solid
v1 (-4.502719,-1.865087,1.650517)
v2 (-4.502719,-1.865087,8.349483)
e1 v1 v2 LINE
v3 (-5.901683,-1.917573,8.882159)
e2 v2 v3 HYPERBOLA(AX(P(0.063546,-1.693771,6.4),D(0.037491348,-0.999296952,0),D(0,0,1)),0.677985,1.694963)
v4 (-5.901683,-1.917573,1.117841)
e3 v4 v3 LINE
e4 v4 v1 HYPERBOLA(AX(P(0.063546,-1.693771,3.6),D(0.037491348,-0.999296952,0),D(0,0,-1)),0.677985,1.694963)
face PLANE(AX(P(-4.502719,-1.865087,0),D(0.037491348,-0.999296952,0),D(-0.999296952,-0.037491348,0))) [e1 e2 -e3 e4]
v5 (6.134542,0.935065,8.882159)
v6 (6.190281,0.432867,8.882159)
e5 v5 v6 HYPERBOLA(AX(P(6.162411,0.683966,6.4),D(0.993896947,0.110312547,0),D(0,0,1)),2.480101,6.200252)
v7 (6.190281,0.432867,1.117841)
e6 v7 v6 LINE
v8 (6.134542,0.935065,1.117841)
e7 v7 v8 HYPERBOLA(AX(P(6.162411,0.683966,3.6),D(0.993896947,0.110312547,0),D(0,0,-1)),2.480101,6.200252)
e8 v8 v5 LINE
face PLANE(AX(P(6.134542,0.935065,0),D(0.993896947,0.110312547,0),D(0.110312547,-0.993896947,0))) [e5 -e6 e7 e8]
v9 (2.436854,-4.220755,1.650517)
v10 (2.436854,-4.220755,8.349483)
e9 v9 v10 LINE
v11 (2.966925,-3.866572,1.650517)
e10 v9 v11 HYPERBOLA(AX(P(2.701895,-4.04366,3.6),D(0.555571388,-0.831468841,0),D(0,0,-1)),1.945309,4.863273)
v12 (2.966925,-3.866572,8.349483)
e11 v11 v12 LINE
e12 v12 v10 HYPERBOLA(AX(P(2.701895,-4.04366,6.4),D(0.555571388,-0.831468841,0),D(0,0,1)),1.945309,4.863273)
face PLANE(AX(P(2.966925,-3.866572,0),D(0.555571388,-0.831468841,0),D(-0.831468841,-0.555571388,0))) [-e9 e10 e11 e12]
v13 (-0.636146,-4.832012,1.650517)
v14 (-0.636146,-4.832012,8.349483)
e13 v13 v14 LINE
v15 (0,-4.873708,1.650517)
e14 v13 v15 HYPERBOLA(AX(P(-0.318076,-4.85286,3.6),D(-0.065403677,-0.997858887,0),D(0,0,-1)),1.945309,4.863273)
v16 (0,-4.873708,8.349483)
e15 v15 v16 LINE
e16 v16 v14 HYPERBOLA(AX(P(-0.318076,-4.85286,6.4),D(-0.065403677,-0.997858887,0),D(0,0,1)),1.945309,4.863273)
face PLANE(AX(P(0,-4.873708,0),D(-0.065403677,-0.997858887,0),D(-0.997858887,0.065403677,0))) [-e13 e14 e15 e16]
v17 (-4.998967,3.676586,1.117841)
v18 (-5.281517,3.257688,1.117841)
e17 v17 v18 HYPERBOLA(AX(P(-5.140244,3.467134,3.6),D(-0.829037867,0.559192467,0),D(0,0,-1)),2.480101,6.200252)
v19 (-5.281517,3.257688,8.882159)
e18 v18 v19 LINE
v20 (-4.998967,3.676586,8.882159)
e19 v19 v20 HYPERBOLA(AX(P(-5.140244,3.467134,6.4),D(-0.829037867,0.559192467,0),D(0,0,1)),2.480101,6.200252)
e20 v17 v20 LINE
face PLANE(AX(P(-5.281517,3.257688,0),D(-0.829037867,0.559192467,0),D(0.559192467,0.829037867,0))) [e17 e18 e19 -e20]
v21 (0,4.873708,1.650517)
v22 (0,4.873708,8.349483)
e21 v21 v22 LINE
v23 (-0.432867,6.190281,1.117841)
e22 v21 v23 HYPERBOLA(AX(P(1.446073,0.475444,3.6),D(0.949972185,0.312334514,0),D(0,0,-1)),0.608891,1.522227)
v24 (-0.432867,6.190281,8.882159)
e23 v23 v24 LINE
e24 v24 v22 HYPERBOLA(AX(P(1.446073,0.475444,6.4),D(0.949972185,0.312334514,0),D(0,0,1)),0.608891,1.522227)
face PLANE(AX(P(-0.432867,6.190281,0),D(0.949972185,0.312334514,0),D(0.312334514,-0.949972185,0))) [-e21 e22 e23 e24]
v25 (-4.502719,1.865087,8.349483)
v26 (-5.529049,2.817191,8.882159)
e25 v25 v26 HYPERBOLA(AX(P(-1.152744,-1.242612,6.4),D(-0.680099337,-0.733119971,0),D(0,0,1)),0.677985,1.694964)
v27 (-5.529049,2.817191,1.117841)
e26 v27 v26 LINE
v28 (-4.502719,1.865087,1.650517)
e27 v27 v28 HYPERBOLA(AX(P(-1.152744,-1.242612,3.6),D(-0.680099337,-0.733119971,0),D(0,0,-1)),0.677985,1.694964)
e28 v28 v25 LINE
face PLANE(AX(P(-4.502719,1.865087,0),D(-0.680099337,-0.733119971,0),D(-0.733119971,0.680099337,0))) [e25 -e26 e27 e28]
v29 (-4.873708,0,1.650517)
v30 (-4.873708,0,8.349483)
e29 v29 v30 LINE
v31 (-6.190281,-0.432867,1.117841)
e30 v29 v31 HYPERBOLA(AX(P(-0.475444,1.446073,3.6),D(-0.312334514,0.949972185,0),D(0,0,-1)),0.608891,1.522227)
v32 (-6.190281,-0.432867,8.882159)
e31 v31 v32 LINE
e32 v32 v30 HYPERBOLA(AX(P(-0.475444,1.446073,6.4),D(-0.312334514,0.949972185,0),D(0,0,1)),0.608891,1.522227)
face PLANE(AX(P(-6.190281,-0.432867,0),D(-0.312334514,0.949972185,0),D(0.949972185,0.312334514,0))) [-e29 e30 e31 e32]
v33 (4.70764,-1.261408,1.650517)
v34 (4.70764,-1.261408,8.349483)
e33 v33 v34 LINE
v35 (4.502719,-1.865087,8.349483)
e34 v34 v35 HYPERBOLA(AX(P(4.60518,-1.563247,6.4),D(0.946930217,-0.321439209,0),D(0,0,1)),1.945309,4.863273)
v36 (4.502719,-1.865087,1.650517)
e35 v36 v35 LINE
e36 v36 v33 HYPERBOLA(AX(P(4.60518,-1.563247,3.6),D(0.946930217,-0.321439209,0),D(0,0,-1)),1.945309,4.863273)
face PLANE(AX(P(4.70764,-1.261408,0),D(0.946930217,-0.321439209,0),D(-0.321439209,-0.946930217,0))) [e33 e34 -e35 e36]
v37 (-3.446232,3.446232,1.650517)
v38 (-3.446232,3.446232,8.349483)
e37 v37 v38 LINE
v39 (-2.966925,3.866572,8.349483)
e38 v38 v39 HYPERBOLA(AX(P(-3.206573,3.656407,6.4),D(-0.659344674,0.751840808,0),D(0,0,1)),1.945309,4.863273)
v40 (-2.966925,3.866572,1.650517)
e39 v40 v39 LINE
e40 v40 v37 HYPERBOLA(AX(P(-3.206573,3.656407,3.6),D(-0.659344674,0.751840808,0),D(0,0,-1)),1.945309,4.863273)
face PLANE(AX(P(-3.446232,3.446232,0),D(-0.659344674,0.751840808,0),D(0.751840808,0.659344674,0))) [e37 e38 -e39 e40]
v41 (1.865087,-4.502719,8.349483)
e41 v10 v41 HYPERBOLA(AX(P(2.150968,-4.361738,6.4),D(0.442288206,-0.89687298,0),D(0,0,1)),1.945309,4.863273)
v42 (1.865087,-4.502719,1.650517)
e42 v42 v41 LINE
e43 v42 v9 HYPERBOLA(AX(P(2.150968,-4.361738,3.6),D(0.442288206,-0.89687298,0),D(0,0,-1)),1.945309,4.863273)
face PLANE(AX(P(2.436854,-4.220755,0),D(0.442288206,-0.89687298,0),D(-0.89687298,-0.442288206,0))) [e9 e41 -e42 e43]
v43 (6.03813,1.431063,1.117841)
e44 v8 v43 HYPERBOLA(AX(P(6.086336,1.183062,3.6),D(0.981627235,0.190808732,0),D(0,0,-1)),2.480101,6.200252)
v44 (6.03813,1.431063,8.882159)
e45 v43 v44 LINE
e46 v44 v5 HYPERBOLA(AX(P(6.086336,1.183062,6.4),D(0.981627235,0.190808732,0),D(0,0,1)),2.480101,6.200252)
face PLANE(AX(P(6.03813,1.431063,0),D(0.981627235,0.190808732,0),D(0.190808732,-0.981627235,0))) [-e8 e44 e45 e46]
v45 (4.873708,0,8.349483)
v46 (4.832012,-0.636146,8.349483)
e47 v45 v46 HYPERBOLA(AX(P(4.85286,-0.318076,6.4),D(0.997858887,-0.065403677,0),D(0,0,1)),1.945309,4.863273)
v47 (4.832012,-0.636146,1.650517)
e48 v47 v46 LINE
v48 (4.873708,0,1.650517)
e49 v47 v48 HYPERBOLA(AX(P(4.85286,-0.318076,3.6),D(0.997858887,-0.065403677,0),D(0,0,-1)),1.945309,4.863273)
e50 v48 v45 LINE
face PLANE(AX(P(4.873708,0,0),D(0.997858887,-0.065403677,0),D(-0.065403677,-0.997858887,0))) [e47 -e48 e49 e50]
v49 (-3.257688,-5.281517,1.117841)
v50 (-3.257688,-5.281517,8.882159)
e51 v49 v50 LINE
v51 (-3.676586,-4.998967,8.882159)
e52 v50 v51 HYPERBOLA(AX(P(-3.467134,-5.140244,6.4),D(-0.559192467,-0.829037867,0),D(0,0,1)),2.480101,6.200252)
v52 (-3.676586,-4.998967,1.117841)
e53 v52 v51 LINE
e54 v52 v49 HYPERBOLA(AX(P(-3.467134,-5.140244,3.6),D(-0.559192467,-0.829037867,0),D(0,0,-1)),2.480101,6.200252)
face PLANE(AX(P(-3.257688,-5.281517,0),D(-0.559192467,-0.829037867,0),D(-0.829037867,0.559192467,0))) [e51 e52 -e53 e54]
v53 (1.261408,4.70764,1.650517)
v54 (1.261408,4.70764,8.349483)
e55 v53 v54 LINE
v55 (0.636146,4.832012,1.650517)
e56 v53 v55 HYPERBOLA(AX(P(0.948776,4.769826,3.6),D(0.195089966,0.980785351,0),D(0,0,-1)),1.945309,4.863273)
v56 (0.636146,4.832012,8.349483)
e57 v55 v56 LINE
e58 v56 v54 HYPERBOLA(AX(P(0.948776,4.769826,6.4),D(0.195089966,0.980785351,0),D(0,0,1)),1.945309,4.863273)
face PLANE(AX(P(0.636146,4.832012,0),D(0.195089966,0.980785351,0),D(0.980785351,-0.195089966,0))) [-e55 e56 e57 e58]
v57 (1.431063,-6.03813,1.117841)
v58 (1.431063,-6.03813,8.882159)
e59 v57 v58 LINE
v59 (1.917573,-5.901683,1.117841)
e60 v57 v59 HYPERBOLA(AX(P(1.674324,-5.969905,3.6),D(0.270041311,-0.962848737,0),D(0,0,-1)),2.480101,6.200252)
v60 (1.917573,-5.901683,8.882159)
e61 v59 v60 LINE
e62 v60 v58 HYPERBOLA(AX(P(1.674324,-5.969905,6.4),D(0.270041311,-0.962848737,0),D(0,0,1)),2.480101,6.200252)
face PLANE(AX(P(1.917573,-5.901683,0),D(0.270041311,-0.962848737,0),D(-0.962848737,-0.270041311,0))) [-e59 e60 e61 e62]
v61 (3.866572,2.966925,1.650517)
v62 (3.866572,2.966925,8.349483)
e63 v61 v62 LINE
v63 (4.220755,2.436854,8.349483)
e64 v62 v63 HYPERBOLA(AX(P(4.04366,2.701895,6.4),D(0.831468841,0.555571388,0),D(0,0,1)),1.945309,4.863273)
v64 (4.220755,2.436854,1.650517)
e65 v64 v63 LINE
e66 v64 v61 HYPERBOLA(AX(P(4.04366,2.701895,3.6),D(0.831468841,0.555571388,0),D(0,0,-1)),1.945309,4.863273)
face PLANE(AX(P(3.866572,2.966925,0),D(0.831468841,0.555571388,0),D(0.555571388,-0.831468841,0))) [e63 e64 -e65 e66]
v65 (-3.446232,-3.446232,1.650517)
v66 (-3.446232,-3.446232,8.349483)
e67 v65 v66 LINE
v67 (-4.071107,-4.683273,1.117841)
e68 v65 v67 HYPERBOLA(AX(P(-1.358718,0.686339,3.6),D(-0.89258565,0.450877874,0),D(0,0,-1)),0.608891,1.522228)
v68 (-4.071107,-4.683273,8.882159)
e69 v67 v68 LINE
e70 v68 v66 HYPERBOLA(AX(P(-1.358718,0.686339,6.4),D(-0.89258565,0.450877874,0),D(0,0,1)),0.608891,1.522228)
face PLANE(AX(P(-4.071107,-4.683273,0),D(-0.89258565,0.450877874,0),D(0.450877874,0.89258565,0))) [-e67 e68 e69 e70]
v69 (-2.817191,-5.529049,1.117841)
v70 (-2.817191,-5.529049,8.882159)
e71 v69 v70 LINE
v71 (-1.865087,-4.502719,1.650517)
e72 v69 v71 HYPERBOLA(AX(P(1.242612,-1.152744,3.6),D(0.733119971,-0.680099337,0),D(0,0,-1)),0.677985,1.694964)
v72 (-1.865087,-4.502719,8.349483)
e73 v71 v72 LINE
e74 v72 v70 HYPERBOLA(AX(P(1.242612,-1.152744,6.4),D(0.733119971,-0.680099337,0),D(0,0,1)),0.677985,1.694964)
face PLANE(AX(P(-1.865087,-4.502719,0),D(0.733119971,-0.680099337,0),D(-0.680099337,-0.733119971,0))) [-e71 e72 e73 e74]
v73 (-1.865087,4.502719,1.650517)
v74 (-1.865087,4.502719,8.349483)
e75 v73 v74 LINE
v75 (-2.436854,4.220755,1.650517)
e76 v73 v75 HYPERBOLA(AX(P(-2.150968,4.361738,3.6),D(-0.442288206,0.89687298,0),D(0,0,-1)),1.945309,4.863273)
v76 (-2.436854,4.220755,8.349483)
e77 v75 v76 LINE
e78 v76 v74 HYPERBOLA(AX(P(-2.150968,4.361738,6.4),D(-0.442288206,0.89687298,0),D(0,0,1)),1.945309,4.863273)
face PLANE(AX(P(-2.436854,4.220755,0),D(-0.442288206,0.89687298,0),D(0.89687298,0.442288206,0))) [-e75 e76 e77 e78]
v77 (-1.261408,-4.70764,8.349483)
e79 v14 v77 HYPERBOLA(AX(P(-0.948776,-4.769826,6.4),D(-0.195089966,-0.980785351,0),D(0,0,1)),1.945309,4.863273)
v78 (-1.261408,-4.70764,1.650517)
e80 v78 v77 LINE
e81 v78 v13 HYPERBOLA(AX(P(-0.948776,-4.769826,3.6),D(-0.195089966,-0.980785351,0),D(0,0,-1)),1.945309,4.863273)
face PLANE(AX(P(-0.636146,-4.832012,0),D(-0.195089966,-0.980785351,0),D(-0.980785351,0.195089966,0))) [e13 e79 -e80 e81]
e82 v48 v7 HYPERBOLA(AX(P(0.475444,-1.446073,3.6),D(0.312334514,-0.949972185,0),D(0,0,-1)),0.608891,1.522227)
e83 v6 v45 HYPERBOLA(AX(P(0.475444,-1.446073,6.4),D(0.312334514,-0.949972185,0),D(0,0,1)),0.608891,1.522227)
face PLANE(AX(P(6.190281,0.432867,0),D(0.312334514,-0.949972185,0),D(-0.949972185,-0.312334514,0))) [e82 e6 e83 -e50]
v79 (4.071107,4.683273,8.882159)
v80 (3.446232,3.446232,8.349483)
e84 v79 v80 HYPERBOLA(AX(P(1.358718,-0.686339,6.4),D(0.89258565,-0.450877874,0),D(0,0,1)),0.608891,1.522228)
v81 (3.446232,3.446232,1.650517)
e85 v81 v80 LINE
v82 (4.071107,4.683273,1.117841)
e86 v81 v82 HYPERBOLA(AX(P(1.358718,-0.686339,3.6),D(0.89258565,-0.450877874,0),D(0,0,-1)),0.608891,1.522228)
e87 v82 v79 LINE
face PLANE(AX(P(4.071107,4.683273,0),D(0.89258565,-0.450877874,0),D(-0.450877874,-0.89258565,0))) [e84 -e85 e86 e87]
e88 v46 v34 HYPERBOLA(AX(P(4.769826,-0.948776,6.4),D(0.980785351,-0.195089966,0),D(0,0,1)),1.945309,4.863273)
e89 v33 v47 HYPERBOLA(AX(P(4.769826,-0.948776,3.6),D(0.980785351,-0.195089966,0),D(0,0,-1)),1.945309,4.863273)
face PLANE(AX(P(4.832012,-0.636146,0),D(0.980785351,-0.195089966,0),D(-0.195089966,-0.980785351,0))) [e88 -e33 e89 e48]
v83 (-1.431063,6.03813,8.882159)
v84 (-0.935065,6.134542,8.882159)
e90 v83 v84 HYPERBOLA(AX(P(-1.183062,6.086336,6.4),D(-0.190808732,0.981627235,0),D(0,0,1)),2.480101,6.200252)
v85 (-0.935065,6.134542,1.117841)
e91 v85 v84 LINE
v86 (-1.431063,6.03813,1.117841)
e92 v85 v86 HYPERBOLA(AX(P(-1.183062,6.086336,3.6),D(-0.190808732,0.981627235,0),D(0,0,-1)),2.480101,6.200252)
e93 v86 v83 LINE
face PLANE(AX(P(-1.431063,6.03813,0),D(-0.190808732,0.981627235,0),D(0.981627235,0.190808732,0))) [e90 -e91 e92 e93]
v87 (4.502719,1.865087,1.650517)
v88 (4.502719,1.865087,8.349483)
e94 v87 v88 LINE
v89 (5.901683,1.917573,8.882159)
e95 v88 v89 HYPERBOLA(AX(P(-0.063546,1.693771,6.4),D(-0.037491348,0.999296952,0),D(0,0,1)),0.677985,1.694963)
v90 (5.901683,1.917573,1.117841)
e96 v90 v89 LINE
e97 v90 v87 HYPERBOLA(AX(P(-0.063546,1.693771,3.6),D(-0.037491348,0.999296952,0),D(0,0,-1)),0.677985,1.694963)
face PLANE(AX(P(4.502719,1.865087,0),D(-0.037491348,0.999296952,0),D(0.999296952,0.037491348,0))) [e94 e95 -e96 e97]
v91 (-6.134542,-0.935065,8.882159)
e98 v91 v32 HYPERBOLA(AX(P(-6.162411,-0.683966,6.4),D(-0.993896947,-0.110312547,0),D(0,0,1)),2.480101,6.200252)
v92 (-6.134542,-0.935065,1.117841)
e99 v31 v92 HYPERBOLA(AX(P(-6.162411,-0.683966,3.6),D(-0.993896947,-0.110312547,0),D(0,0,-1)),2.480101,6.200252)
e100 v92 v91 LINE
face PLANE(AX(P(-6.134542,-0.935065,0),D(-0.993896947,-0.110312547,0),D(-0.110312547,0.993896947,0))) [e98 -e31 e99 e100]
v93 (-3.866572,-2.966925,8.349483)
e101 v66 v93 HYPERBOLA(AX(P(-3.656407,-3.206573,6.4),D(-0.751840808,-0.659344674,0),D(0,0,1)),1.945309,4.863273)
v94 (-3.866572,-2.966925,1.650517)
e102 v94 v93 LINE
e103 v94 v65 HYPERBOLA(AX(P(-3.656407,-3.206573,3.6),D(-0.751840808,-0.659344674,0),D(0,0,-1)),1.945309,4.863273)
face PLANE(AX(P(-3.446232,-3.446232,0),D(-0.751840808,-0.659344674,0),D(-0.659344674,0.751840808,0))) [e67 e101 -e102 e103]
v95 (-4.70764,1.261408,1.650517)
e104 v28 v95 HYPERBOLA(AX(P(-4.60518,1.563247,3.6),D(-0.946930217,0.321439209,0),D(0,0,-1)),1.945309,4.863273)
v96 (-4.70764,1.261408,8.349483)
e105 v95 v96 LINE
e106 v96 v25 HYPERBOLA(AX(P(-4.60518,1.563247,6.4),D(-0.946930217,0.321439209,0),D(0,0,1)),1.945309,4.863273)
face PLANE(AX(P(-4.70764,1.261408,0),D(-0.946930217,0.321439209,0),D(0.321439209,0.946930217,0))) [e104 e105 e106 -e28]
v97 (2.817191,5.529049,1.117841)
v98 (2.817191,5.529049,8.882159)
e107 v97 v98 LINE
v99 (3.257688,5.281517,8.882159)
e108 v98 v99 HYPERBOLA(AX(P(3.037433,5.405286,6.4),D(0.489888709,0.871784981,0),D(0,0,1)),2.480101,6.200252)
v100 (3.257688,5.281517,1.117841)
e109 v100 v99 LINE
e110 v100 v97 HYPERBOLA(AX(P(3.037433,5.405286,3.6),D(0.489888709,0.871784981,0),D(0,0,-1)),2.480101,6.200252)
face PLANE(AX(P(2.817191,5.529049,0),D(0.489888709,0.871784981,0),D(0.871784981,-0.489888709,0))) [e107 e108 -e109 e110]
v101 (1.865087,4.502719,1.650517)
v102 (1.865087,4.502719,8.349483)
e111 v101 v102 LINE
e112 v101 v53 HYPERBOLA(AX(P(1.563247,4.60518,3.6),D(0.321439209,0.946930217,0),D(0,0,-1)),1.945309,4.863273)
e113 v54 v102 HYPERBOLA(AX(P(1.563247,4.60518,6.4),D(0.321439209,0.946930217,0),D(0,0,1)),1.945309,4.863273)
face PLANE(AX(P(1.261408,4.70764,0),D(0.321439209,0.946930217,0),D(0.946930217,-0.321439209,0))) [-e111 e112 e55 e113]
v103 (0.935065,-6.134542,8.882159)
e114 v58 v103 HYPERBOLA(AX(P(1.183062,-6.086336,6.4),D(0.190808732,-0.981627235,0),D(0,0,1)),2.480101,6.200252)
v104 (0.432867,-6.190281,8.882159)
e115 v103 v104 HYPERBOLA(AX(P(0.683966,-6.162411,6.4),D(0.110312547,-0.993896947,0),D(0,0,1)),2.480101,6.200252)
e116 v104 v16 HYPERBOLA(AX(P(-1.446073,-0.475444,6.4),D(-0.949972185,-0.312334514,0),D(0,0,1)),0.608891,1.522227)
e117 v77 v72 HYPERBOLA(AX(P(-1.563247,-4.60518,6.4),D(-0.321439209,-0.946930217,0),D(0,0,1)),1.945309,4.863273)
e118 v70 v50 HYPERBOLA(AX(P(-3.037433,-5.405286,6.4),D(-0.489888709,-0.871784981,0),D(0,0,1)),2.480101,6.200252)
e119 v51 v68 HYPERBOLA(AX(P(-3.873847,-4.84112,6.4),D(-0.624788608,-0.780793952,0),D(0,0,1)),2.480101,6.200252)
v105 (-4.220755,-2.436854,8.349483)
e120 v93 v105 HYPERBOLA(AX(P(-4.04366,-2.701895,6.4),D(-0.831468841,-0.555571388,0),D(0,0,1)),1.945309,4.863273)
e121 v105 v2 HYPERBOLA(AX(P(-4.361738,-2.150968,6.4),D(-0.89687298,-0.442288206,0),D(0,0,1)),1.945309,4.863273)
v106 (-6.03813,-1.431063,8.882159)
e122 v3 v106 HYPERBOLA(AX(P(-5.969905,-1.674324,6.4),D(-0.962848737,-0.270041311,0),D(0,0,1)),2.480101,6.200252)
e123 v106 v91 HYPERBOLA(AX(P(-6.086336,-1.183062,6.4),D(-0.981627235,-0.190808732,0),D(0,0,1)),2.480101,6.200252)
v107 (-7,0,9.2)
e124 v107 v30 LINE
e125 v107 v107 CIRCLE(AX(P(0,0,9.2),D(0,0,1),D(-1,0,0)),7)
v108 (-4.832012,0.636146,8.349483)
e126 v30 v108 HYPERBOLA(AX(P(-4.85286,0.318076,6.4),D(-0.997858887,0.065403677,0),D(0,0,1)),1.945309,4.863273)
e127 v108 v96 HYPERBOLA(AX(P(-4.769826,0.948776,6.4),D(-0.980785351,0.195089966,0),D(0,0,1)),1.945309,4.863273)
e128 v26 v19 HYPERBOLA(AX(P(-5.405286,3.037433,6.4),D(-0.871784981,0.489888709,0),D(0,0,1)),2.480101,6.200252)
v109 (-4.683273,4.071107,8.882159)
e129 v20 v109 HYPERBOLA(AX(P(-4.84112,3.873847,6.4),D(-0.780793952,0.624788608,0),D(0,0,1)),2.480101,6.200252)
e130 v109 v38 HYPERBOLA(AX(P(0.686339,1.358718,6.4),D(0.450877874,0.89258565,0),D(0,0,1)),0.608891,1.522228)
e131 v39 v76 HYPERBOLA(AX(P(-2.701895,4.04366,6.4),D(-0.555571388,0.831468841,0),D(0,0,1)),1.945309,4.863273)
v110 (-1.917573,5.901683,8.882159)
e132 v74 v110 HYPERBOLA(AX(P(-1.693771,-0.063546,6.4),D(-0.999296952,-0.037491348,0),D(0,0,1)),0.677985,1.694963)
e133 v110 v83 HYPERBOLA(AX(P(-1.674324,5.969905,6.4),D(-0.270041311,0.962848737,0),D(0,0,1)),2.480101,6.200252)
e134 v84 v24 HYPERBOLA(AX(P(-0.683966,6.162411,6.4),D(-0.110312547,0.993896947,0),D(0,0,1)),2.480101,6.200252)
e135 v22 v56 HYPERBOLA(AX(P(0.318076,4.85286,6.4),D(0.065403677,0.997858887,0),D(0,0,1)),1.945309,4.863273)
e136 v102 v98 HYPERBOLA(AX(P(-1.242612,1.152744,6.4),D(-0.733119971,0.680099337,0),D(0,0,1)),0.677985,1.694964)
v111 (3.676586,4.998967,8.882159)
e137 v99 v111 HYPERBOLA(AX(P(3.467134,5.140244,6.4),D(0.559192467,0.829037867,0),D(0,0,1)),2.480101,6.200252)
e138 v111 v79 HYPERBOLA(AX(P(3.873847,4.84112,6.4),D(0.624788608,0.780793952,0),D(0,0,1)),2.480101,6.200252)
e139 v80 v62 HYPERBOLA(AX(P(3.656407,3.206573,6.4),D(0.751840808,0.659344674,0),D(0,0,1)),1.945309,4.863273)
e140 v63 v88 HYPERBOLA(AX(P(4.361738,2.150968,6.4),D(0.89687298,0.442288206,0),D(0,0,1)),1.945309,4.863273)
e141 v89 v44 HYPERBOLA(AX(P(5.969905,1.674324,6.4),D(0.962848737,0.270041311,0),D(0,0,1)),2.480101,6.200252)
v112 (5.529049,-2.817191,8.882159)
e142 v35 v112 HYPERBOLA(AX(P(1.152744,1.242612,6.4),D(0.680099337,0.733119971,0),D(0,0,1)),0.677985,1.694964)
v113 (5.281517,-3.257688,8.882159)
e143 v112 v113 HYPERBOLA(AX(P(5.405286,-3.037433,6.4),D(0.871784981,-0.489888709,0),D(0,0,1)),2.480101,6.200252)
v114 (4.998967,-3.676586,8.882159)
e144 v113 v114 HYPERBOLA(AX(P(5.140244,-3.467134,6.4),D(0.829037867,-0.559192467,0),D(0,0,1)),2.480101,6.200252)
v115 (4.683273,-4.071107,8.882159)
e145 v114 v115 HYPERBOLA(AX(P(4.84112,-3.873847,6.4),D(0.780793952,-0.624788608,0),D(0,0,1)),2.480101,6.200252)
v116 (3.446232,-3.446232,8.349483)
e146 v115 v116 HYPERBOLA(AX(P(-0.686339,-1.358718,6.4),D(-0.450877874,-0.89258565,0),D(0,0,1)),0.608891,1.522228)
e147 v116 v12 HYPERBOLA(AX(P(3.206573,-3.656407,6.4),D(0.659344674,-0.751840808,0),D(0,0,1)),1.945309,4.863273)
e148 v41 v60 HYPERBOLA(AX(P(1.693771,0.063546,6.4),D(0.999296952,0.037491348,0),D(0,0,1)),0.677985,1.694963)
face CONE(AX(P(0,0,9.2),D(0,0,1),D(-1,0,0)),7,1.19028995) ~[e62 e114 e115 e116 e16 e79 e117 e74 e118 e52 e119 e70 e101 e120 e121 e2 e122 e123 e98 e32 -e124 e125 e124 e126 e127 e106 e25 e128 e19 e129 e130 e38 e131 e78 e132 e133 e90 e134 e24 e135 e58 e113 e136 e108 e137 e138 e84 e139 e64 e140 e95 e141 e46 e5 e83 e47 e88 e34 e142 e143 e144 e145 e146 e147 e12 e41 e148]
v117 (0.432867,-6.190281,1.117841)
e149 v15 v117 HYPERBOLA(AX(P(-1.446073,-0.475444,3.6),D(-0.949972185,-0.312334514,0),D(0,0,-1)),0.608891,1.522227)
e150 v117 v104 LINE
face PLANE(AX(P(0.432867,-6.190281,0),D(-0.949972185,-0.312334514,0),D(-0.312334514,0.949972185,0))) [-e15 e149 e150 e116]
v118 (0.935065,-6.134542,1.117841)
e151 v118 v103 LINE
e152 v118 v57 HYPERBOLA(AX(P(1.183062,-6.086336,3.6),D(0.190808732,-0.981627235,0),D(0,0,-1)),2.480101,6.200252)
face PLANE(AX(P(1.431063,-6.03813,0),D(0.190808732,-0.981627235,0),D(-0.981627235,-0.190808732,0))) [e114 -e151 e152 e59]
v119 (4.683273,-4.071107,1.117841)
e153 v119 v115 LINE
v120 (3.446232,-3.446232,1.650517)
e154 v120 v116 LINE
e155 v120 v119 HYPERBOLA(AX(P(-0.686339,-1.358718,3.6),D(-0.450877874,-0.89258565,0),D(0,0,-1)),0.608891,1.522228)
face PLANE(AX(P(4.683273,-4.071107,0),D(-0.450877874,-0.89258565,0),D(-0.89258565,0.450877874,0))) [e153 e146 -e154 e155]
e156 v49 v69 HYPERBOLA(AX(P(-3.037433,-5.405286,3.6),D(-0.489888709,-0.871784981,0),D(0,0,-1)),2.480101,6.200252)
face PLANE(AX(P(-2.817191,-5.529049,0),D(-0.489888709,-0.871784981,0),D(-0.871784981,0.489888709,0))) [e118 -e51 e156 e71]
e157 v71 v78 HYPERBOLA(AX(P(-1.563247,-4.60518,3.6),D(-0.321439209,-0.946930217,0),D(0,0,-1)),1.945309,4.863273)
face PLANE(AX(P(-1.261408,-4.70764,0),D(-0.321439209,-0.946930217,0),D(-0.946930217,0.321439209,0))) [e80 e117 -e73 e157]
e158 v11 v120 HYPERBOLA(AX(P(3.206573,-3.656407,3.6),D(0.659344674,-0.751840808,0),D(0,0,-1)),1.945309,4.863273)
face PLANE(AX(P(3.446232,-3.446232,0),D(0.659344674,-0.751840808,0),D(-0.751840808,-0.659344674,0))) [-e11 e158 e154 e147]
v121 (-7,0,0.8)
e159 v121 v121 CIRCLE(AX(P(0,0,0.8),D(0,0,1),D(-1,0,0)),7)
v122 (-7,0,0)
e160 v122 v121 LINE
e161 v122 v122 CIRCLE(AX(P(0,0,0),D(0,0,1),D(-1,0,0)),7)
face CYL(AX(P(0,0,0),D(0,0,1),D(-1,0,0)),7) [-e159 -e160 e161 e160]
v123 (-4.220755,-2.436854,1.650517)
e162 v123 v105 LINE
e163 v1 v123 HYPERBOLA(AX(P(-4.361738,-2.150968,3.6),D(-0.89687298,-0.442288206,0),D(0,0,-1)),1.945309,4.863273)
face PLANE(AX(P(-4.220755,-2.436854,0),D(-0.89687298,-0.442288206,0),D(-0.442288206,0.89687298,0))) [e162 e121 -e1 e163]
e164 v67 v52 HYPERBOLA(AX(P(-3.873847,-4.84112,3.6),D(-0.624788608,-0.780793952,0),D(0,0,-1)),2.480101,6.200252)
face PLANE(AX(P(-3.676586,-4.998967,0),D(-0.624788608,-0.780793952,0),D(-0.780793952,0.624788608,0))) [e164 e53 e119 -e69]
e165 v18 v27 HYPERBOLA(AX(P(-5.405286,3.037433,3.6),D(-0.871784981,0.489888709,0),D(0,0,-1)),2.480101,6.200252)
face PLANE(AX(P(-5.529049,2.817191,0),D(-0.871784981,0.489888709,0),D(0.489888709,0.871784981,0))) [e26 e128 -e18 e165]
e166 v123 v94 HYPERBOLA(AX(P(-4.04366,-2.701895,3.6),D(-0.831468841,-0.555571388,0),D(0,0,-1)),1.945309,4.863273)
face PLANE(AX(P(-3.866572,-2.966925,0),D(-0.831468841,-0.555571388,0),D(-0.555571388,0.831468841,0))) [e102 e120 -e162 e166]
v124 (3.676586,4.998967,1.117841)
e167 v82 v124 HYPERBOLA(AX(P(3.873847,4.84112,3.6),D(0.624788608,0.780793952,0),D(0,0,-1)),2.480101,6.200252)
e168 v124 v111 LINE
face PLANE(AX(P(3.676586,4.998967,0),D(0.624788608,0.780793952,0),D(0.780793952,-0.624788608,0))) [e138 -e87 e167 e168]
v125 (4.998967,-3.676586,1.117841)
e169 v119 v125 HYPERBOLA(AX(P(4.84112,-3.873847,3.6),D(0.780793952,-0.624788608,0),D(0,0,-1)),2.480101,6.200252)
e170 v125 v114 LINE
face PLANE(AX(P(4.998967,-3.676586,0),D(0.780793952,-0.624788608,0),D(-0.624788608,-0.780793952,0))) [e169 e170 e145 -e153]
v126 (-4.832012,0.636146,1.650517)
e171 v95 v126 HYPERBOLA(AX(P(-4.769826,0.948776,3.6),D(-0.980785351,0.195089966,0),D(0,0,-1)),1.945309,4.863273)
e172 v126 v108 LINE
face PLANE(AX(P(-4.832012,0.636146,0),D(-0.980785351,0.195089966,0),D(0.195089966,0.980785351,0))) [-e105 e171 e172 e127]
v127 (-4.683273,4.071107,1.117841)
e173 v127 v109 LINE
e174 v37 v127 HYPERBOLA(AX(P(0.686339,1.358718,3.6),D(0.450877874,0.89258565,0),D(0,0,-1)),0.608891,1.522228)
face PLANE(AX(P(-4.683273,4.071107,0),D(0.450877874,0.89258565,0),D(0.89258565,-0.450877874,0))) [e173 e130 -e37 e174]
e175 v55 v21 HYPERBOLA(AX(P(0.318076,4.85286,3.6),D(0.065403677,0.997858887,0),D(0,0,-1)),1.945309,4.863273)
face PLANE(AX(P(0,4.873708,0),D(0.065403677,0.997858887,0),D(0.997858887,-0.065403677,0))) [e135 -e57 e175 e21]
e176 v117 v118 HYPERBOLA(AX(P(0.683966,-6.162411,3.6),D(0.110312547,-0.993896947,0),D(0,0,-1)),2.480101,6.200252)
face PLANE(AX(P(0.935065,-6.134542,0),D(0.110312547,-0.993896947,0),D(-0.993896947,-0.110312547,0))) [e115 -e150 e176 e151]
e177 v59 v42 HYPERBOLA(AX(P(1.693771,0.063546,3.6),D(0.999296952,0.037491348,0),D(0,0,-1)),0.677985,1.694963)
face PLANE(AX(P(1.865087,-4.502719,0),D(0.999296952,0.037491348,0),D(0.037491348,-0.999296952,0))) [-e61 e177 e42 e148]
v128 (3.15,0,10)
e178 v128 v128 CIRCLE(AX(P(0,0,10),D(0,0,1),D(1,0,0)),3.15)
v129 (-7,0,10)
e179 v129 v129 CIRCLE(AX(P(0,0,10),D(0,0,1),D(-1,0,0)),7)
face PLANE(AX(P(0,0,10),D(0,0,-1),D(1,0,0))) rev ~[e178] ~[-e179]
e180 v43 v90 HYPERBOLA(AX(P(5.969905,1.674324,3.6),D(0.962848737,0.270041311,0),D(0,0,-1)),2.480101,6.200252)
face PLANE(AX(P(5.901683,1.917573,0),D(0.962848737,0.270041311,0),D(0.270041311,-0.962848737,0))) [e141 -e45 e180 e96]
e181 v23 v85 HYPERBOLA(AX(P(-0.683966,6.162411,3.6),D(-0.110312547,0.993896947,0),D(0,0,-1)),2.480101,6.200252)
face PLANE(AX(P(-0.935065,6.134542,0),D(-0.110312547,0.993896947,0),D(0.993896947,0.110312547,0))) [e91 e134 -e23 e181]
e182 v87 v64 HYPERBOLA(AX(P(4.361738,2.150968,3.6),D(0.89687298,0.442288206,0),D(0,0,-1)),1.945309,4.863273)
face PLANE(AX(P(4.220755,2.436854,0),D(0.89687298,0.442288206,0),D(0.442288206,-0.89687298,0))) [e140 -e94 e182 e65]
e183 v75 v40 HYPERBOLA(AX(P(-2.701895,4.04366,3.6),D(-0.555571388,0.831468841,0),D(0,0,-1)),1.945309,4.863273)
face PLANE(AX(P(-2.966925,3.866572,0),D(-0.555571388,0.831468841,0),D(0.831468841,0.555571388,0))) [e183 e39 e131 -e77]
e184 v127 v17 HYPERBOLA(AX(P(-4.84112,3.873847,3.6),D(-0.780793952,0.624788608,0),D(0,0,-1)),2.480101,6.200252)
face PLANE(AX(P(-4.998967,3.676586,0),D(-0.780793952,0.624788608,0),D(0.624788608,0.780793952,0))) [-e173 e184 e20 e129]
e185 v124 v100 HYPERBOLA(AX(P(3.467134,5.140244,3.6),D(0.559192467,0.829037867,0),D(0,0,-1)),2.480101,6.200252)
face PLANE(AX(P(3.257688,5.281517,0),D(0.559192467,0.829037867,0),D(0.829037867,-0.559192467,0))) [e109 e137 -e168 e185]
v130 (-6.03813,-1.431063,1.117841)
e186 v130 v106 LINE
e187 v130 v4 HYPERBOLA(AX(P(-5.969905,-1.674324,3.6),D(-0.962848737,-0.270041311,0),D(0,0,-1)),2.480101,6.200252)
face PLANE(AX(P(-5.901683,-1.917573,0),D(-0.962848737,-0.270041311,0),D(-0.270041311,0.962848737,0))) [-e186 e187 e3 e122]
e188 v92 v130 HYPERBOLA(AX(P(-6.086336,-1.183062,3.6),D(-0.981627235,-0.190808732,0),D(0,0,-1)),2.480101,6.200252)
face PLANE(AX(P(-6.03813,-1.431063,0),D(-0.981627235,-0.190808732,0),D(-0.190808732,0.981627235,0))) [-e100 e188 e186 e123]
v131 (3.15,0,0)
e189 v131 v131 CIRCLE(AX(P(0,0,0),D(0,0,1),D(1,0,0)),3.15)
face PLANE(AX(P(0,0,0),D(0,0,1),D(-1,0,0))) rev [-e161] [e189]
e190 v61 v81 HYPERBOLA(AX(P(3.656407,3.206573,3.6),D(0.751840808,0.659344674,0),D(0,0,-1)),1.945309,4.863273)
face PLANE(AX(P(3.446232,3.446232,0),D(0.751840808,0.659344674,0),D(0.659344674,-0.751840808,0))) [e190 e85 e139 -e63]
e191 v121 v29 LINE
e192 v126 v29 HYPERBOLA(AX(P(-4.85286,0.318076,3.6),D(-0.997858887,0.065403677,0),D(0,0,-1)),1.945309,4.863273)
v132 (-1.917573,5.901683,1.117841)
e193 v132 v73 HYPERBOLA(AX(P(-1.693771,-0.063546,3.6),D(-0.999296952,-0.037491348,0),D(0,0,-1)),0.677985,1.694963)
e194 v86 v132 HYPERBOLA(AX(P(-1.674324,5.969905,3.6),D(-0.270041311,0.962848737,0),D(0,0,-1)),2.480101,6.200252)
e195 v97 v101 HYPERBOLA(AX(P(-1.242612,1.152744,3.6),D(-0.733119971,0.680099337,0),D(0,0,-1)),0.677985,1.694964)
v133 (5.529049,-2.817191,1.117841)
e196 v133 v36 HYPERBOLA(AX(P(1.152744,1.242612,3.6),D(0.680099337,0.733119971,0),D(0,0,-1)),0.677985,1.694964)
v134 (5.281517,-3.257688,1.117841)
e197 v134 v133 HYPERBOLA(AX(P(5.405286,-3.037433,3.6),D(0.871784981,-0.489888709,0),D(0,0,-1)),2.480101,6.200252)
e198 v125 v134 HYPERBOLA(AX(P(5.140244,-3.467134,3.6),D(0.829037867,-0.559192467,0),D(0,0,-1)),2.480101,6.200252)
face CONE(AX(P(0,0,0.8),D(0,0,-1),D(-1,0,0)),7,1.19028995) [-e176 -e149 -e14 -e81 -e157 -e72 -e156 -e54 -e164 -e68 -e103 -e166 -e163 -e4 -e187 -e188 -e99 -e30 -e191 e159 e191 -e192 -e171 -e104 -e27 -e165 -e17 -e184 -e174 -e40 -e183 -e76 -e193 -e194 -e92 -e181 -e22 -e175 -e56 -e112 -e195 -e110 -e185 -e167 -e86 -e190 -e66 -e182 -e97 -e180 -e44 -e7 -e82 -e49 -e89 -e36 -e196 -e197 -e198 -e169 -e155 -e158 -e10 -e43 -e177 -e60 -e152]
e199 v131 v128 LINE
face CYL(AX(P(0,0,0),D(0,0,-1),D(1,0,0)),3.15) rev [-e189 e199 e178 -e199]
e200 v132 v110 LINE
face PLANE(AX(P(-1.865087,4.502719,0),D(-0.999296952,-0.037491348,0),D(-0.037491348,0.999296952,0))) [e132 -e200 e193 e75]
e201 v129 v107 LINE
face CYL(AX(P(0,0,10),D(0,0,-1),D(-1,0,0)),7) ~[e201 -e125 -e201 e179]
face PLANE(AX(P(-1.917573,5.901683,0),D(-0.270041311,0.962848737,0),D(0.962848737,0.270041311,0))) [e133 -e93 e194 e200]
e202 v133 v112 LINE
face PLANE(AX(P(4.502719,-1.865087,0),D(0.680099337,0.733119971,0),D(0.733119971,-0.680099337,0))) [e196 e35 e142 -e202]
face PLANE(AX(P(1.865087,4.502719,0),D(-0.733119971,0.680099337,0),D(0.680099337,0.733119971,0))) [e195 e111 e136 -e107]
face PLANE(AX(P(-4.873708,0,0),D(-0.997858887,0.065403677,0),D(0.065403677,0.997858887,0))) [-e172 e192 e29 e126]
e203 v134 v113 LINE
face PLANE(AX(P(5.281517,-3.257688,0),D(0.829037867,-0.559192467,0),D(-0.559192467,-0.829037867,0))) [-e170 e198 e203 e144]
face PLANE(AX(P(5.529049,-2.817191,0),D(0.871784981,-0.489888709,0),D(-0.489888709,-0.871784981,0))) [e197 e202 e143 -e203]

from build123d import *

# Parameters (mm, degrees)
SKETCH2_R           = 3.15
BOSS_EXTRUDE1_DEPTH = 10


with BuildPart() as part:
    # Sketch2 → Boss-Extrude1 (new body)
    with BuildSketch(Plane.XY):
        Polygon((4.873707771, 0), (4.832012177, -0.636146486), (4.707640171, -1.261407971), (4.502718925, -1.865087032), (5.52904892, -2.817190886), (5.281517029, -3.257688046), (4.998967171, -3.676585913), (4.683272839, -4.071106911), (3.44623208, -3.44623208), (2.966924906, -3.866571903), (2.436853886, -4.2207551), (1.865087032, -4.502718925), (1.917572975, -5.901682854), (1.431063056, -6.038129807), (0.935064673, -6.134541988), (0.432866603, -6.190280914), (0, -4.873707771), (-0.636146486, -4.832012177), (-1.261407971, -4.707640171), (-1.865087032, -4.502718925), (-2.817190886, -5.52904892), (-3.257688046, -5.281517029), (-3.676585913, -4.998967171), (-4.071106911, -4.683272839), (-3.44623208, -3.44623208), (-3.866571903, -2.966924906), (-4.2207551, -2.436853886), (-4.502718925, -1.865087032), (-5.901682854, -1.917572975), (-6.038129807, -1.431063056), (-6.134541988, -0.935064673), (-6.190280914, -0.432866603), (-4.873707771, 0), (-4.832012177, 0.636146486), (-4.707640171, 1.261407971), (-4.502718925, 1.865087032), (-5.52904892, 2.817190886), (-5.281517029, 3.257688046), (-4.998967171, 3.676585913), (-4.683272839, 4.071106911), (-3.44623208, 3.44623208), (-2.966924906, 3.866571903), (-2.436853886, 4.2207551), (-1.865087032, 4.502718925), (-1.917572975, 5.901682854), (-1.431063056, 6.038129807), (-0.935064673, 6.134541988), (-0.432866603, 6.190280914), (0, 4.873707771), (0.636146486, 4.832012177), (1.261407971, 4.707640171), (1.865087032, 4.502718925), (2.817190886, 5.52904892), (3.257688046, 5.281517029), (3.676585913, 4.998967171), (4.071106911, 4.683272839), (3.44623208, 3.44623208), (3.866571903, 2.966924906), (4.2207551, 2.436853886), (4.502718925, 1.865087032), (5.901682854, 1.917572975), (6.038129807, 1.431063056), (6.134541988, 0.935064673), (6.190280914, 0.432866603), align=None)
        Circle(SKETCH2_R, mode=Mode.SUBTRACT)
    extrude(amount=BOSS_EXTRUDE1_DEPTH)

    # Sketch3 → Revolve1 (revolve)
    with BuildSketch(Plane(origin=(0, 0, 0), x_dir=(1, 0, 0), z_dir=(0, 1, 0))):
        Polygon((-4, 0), (-7, 0), (-7, -0.8), (-4, -2), align=None)
    revolve1 = revolve(axis=Axis((0, 0, 0), (0, 0, 1)))

    # Mirror1: Revolve1 across plane
    add(revolve1.mirror(Plane.XY.offset(5)))


solid = part.part
